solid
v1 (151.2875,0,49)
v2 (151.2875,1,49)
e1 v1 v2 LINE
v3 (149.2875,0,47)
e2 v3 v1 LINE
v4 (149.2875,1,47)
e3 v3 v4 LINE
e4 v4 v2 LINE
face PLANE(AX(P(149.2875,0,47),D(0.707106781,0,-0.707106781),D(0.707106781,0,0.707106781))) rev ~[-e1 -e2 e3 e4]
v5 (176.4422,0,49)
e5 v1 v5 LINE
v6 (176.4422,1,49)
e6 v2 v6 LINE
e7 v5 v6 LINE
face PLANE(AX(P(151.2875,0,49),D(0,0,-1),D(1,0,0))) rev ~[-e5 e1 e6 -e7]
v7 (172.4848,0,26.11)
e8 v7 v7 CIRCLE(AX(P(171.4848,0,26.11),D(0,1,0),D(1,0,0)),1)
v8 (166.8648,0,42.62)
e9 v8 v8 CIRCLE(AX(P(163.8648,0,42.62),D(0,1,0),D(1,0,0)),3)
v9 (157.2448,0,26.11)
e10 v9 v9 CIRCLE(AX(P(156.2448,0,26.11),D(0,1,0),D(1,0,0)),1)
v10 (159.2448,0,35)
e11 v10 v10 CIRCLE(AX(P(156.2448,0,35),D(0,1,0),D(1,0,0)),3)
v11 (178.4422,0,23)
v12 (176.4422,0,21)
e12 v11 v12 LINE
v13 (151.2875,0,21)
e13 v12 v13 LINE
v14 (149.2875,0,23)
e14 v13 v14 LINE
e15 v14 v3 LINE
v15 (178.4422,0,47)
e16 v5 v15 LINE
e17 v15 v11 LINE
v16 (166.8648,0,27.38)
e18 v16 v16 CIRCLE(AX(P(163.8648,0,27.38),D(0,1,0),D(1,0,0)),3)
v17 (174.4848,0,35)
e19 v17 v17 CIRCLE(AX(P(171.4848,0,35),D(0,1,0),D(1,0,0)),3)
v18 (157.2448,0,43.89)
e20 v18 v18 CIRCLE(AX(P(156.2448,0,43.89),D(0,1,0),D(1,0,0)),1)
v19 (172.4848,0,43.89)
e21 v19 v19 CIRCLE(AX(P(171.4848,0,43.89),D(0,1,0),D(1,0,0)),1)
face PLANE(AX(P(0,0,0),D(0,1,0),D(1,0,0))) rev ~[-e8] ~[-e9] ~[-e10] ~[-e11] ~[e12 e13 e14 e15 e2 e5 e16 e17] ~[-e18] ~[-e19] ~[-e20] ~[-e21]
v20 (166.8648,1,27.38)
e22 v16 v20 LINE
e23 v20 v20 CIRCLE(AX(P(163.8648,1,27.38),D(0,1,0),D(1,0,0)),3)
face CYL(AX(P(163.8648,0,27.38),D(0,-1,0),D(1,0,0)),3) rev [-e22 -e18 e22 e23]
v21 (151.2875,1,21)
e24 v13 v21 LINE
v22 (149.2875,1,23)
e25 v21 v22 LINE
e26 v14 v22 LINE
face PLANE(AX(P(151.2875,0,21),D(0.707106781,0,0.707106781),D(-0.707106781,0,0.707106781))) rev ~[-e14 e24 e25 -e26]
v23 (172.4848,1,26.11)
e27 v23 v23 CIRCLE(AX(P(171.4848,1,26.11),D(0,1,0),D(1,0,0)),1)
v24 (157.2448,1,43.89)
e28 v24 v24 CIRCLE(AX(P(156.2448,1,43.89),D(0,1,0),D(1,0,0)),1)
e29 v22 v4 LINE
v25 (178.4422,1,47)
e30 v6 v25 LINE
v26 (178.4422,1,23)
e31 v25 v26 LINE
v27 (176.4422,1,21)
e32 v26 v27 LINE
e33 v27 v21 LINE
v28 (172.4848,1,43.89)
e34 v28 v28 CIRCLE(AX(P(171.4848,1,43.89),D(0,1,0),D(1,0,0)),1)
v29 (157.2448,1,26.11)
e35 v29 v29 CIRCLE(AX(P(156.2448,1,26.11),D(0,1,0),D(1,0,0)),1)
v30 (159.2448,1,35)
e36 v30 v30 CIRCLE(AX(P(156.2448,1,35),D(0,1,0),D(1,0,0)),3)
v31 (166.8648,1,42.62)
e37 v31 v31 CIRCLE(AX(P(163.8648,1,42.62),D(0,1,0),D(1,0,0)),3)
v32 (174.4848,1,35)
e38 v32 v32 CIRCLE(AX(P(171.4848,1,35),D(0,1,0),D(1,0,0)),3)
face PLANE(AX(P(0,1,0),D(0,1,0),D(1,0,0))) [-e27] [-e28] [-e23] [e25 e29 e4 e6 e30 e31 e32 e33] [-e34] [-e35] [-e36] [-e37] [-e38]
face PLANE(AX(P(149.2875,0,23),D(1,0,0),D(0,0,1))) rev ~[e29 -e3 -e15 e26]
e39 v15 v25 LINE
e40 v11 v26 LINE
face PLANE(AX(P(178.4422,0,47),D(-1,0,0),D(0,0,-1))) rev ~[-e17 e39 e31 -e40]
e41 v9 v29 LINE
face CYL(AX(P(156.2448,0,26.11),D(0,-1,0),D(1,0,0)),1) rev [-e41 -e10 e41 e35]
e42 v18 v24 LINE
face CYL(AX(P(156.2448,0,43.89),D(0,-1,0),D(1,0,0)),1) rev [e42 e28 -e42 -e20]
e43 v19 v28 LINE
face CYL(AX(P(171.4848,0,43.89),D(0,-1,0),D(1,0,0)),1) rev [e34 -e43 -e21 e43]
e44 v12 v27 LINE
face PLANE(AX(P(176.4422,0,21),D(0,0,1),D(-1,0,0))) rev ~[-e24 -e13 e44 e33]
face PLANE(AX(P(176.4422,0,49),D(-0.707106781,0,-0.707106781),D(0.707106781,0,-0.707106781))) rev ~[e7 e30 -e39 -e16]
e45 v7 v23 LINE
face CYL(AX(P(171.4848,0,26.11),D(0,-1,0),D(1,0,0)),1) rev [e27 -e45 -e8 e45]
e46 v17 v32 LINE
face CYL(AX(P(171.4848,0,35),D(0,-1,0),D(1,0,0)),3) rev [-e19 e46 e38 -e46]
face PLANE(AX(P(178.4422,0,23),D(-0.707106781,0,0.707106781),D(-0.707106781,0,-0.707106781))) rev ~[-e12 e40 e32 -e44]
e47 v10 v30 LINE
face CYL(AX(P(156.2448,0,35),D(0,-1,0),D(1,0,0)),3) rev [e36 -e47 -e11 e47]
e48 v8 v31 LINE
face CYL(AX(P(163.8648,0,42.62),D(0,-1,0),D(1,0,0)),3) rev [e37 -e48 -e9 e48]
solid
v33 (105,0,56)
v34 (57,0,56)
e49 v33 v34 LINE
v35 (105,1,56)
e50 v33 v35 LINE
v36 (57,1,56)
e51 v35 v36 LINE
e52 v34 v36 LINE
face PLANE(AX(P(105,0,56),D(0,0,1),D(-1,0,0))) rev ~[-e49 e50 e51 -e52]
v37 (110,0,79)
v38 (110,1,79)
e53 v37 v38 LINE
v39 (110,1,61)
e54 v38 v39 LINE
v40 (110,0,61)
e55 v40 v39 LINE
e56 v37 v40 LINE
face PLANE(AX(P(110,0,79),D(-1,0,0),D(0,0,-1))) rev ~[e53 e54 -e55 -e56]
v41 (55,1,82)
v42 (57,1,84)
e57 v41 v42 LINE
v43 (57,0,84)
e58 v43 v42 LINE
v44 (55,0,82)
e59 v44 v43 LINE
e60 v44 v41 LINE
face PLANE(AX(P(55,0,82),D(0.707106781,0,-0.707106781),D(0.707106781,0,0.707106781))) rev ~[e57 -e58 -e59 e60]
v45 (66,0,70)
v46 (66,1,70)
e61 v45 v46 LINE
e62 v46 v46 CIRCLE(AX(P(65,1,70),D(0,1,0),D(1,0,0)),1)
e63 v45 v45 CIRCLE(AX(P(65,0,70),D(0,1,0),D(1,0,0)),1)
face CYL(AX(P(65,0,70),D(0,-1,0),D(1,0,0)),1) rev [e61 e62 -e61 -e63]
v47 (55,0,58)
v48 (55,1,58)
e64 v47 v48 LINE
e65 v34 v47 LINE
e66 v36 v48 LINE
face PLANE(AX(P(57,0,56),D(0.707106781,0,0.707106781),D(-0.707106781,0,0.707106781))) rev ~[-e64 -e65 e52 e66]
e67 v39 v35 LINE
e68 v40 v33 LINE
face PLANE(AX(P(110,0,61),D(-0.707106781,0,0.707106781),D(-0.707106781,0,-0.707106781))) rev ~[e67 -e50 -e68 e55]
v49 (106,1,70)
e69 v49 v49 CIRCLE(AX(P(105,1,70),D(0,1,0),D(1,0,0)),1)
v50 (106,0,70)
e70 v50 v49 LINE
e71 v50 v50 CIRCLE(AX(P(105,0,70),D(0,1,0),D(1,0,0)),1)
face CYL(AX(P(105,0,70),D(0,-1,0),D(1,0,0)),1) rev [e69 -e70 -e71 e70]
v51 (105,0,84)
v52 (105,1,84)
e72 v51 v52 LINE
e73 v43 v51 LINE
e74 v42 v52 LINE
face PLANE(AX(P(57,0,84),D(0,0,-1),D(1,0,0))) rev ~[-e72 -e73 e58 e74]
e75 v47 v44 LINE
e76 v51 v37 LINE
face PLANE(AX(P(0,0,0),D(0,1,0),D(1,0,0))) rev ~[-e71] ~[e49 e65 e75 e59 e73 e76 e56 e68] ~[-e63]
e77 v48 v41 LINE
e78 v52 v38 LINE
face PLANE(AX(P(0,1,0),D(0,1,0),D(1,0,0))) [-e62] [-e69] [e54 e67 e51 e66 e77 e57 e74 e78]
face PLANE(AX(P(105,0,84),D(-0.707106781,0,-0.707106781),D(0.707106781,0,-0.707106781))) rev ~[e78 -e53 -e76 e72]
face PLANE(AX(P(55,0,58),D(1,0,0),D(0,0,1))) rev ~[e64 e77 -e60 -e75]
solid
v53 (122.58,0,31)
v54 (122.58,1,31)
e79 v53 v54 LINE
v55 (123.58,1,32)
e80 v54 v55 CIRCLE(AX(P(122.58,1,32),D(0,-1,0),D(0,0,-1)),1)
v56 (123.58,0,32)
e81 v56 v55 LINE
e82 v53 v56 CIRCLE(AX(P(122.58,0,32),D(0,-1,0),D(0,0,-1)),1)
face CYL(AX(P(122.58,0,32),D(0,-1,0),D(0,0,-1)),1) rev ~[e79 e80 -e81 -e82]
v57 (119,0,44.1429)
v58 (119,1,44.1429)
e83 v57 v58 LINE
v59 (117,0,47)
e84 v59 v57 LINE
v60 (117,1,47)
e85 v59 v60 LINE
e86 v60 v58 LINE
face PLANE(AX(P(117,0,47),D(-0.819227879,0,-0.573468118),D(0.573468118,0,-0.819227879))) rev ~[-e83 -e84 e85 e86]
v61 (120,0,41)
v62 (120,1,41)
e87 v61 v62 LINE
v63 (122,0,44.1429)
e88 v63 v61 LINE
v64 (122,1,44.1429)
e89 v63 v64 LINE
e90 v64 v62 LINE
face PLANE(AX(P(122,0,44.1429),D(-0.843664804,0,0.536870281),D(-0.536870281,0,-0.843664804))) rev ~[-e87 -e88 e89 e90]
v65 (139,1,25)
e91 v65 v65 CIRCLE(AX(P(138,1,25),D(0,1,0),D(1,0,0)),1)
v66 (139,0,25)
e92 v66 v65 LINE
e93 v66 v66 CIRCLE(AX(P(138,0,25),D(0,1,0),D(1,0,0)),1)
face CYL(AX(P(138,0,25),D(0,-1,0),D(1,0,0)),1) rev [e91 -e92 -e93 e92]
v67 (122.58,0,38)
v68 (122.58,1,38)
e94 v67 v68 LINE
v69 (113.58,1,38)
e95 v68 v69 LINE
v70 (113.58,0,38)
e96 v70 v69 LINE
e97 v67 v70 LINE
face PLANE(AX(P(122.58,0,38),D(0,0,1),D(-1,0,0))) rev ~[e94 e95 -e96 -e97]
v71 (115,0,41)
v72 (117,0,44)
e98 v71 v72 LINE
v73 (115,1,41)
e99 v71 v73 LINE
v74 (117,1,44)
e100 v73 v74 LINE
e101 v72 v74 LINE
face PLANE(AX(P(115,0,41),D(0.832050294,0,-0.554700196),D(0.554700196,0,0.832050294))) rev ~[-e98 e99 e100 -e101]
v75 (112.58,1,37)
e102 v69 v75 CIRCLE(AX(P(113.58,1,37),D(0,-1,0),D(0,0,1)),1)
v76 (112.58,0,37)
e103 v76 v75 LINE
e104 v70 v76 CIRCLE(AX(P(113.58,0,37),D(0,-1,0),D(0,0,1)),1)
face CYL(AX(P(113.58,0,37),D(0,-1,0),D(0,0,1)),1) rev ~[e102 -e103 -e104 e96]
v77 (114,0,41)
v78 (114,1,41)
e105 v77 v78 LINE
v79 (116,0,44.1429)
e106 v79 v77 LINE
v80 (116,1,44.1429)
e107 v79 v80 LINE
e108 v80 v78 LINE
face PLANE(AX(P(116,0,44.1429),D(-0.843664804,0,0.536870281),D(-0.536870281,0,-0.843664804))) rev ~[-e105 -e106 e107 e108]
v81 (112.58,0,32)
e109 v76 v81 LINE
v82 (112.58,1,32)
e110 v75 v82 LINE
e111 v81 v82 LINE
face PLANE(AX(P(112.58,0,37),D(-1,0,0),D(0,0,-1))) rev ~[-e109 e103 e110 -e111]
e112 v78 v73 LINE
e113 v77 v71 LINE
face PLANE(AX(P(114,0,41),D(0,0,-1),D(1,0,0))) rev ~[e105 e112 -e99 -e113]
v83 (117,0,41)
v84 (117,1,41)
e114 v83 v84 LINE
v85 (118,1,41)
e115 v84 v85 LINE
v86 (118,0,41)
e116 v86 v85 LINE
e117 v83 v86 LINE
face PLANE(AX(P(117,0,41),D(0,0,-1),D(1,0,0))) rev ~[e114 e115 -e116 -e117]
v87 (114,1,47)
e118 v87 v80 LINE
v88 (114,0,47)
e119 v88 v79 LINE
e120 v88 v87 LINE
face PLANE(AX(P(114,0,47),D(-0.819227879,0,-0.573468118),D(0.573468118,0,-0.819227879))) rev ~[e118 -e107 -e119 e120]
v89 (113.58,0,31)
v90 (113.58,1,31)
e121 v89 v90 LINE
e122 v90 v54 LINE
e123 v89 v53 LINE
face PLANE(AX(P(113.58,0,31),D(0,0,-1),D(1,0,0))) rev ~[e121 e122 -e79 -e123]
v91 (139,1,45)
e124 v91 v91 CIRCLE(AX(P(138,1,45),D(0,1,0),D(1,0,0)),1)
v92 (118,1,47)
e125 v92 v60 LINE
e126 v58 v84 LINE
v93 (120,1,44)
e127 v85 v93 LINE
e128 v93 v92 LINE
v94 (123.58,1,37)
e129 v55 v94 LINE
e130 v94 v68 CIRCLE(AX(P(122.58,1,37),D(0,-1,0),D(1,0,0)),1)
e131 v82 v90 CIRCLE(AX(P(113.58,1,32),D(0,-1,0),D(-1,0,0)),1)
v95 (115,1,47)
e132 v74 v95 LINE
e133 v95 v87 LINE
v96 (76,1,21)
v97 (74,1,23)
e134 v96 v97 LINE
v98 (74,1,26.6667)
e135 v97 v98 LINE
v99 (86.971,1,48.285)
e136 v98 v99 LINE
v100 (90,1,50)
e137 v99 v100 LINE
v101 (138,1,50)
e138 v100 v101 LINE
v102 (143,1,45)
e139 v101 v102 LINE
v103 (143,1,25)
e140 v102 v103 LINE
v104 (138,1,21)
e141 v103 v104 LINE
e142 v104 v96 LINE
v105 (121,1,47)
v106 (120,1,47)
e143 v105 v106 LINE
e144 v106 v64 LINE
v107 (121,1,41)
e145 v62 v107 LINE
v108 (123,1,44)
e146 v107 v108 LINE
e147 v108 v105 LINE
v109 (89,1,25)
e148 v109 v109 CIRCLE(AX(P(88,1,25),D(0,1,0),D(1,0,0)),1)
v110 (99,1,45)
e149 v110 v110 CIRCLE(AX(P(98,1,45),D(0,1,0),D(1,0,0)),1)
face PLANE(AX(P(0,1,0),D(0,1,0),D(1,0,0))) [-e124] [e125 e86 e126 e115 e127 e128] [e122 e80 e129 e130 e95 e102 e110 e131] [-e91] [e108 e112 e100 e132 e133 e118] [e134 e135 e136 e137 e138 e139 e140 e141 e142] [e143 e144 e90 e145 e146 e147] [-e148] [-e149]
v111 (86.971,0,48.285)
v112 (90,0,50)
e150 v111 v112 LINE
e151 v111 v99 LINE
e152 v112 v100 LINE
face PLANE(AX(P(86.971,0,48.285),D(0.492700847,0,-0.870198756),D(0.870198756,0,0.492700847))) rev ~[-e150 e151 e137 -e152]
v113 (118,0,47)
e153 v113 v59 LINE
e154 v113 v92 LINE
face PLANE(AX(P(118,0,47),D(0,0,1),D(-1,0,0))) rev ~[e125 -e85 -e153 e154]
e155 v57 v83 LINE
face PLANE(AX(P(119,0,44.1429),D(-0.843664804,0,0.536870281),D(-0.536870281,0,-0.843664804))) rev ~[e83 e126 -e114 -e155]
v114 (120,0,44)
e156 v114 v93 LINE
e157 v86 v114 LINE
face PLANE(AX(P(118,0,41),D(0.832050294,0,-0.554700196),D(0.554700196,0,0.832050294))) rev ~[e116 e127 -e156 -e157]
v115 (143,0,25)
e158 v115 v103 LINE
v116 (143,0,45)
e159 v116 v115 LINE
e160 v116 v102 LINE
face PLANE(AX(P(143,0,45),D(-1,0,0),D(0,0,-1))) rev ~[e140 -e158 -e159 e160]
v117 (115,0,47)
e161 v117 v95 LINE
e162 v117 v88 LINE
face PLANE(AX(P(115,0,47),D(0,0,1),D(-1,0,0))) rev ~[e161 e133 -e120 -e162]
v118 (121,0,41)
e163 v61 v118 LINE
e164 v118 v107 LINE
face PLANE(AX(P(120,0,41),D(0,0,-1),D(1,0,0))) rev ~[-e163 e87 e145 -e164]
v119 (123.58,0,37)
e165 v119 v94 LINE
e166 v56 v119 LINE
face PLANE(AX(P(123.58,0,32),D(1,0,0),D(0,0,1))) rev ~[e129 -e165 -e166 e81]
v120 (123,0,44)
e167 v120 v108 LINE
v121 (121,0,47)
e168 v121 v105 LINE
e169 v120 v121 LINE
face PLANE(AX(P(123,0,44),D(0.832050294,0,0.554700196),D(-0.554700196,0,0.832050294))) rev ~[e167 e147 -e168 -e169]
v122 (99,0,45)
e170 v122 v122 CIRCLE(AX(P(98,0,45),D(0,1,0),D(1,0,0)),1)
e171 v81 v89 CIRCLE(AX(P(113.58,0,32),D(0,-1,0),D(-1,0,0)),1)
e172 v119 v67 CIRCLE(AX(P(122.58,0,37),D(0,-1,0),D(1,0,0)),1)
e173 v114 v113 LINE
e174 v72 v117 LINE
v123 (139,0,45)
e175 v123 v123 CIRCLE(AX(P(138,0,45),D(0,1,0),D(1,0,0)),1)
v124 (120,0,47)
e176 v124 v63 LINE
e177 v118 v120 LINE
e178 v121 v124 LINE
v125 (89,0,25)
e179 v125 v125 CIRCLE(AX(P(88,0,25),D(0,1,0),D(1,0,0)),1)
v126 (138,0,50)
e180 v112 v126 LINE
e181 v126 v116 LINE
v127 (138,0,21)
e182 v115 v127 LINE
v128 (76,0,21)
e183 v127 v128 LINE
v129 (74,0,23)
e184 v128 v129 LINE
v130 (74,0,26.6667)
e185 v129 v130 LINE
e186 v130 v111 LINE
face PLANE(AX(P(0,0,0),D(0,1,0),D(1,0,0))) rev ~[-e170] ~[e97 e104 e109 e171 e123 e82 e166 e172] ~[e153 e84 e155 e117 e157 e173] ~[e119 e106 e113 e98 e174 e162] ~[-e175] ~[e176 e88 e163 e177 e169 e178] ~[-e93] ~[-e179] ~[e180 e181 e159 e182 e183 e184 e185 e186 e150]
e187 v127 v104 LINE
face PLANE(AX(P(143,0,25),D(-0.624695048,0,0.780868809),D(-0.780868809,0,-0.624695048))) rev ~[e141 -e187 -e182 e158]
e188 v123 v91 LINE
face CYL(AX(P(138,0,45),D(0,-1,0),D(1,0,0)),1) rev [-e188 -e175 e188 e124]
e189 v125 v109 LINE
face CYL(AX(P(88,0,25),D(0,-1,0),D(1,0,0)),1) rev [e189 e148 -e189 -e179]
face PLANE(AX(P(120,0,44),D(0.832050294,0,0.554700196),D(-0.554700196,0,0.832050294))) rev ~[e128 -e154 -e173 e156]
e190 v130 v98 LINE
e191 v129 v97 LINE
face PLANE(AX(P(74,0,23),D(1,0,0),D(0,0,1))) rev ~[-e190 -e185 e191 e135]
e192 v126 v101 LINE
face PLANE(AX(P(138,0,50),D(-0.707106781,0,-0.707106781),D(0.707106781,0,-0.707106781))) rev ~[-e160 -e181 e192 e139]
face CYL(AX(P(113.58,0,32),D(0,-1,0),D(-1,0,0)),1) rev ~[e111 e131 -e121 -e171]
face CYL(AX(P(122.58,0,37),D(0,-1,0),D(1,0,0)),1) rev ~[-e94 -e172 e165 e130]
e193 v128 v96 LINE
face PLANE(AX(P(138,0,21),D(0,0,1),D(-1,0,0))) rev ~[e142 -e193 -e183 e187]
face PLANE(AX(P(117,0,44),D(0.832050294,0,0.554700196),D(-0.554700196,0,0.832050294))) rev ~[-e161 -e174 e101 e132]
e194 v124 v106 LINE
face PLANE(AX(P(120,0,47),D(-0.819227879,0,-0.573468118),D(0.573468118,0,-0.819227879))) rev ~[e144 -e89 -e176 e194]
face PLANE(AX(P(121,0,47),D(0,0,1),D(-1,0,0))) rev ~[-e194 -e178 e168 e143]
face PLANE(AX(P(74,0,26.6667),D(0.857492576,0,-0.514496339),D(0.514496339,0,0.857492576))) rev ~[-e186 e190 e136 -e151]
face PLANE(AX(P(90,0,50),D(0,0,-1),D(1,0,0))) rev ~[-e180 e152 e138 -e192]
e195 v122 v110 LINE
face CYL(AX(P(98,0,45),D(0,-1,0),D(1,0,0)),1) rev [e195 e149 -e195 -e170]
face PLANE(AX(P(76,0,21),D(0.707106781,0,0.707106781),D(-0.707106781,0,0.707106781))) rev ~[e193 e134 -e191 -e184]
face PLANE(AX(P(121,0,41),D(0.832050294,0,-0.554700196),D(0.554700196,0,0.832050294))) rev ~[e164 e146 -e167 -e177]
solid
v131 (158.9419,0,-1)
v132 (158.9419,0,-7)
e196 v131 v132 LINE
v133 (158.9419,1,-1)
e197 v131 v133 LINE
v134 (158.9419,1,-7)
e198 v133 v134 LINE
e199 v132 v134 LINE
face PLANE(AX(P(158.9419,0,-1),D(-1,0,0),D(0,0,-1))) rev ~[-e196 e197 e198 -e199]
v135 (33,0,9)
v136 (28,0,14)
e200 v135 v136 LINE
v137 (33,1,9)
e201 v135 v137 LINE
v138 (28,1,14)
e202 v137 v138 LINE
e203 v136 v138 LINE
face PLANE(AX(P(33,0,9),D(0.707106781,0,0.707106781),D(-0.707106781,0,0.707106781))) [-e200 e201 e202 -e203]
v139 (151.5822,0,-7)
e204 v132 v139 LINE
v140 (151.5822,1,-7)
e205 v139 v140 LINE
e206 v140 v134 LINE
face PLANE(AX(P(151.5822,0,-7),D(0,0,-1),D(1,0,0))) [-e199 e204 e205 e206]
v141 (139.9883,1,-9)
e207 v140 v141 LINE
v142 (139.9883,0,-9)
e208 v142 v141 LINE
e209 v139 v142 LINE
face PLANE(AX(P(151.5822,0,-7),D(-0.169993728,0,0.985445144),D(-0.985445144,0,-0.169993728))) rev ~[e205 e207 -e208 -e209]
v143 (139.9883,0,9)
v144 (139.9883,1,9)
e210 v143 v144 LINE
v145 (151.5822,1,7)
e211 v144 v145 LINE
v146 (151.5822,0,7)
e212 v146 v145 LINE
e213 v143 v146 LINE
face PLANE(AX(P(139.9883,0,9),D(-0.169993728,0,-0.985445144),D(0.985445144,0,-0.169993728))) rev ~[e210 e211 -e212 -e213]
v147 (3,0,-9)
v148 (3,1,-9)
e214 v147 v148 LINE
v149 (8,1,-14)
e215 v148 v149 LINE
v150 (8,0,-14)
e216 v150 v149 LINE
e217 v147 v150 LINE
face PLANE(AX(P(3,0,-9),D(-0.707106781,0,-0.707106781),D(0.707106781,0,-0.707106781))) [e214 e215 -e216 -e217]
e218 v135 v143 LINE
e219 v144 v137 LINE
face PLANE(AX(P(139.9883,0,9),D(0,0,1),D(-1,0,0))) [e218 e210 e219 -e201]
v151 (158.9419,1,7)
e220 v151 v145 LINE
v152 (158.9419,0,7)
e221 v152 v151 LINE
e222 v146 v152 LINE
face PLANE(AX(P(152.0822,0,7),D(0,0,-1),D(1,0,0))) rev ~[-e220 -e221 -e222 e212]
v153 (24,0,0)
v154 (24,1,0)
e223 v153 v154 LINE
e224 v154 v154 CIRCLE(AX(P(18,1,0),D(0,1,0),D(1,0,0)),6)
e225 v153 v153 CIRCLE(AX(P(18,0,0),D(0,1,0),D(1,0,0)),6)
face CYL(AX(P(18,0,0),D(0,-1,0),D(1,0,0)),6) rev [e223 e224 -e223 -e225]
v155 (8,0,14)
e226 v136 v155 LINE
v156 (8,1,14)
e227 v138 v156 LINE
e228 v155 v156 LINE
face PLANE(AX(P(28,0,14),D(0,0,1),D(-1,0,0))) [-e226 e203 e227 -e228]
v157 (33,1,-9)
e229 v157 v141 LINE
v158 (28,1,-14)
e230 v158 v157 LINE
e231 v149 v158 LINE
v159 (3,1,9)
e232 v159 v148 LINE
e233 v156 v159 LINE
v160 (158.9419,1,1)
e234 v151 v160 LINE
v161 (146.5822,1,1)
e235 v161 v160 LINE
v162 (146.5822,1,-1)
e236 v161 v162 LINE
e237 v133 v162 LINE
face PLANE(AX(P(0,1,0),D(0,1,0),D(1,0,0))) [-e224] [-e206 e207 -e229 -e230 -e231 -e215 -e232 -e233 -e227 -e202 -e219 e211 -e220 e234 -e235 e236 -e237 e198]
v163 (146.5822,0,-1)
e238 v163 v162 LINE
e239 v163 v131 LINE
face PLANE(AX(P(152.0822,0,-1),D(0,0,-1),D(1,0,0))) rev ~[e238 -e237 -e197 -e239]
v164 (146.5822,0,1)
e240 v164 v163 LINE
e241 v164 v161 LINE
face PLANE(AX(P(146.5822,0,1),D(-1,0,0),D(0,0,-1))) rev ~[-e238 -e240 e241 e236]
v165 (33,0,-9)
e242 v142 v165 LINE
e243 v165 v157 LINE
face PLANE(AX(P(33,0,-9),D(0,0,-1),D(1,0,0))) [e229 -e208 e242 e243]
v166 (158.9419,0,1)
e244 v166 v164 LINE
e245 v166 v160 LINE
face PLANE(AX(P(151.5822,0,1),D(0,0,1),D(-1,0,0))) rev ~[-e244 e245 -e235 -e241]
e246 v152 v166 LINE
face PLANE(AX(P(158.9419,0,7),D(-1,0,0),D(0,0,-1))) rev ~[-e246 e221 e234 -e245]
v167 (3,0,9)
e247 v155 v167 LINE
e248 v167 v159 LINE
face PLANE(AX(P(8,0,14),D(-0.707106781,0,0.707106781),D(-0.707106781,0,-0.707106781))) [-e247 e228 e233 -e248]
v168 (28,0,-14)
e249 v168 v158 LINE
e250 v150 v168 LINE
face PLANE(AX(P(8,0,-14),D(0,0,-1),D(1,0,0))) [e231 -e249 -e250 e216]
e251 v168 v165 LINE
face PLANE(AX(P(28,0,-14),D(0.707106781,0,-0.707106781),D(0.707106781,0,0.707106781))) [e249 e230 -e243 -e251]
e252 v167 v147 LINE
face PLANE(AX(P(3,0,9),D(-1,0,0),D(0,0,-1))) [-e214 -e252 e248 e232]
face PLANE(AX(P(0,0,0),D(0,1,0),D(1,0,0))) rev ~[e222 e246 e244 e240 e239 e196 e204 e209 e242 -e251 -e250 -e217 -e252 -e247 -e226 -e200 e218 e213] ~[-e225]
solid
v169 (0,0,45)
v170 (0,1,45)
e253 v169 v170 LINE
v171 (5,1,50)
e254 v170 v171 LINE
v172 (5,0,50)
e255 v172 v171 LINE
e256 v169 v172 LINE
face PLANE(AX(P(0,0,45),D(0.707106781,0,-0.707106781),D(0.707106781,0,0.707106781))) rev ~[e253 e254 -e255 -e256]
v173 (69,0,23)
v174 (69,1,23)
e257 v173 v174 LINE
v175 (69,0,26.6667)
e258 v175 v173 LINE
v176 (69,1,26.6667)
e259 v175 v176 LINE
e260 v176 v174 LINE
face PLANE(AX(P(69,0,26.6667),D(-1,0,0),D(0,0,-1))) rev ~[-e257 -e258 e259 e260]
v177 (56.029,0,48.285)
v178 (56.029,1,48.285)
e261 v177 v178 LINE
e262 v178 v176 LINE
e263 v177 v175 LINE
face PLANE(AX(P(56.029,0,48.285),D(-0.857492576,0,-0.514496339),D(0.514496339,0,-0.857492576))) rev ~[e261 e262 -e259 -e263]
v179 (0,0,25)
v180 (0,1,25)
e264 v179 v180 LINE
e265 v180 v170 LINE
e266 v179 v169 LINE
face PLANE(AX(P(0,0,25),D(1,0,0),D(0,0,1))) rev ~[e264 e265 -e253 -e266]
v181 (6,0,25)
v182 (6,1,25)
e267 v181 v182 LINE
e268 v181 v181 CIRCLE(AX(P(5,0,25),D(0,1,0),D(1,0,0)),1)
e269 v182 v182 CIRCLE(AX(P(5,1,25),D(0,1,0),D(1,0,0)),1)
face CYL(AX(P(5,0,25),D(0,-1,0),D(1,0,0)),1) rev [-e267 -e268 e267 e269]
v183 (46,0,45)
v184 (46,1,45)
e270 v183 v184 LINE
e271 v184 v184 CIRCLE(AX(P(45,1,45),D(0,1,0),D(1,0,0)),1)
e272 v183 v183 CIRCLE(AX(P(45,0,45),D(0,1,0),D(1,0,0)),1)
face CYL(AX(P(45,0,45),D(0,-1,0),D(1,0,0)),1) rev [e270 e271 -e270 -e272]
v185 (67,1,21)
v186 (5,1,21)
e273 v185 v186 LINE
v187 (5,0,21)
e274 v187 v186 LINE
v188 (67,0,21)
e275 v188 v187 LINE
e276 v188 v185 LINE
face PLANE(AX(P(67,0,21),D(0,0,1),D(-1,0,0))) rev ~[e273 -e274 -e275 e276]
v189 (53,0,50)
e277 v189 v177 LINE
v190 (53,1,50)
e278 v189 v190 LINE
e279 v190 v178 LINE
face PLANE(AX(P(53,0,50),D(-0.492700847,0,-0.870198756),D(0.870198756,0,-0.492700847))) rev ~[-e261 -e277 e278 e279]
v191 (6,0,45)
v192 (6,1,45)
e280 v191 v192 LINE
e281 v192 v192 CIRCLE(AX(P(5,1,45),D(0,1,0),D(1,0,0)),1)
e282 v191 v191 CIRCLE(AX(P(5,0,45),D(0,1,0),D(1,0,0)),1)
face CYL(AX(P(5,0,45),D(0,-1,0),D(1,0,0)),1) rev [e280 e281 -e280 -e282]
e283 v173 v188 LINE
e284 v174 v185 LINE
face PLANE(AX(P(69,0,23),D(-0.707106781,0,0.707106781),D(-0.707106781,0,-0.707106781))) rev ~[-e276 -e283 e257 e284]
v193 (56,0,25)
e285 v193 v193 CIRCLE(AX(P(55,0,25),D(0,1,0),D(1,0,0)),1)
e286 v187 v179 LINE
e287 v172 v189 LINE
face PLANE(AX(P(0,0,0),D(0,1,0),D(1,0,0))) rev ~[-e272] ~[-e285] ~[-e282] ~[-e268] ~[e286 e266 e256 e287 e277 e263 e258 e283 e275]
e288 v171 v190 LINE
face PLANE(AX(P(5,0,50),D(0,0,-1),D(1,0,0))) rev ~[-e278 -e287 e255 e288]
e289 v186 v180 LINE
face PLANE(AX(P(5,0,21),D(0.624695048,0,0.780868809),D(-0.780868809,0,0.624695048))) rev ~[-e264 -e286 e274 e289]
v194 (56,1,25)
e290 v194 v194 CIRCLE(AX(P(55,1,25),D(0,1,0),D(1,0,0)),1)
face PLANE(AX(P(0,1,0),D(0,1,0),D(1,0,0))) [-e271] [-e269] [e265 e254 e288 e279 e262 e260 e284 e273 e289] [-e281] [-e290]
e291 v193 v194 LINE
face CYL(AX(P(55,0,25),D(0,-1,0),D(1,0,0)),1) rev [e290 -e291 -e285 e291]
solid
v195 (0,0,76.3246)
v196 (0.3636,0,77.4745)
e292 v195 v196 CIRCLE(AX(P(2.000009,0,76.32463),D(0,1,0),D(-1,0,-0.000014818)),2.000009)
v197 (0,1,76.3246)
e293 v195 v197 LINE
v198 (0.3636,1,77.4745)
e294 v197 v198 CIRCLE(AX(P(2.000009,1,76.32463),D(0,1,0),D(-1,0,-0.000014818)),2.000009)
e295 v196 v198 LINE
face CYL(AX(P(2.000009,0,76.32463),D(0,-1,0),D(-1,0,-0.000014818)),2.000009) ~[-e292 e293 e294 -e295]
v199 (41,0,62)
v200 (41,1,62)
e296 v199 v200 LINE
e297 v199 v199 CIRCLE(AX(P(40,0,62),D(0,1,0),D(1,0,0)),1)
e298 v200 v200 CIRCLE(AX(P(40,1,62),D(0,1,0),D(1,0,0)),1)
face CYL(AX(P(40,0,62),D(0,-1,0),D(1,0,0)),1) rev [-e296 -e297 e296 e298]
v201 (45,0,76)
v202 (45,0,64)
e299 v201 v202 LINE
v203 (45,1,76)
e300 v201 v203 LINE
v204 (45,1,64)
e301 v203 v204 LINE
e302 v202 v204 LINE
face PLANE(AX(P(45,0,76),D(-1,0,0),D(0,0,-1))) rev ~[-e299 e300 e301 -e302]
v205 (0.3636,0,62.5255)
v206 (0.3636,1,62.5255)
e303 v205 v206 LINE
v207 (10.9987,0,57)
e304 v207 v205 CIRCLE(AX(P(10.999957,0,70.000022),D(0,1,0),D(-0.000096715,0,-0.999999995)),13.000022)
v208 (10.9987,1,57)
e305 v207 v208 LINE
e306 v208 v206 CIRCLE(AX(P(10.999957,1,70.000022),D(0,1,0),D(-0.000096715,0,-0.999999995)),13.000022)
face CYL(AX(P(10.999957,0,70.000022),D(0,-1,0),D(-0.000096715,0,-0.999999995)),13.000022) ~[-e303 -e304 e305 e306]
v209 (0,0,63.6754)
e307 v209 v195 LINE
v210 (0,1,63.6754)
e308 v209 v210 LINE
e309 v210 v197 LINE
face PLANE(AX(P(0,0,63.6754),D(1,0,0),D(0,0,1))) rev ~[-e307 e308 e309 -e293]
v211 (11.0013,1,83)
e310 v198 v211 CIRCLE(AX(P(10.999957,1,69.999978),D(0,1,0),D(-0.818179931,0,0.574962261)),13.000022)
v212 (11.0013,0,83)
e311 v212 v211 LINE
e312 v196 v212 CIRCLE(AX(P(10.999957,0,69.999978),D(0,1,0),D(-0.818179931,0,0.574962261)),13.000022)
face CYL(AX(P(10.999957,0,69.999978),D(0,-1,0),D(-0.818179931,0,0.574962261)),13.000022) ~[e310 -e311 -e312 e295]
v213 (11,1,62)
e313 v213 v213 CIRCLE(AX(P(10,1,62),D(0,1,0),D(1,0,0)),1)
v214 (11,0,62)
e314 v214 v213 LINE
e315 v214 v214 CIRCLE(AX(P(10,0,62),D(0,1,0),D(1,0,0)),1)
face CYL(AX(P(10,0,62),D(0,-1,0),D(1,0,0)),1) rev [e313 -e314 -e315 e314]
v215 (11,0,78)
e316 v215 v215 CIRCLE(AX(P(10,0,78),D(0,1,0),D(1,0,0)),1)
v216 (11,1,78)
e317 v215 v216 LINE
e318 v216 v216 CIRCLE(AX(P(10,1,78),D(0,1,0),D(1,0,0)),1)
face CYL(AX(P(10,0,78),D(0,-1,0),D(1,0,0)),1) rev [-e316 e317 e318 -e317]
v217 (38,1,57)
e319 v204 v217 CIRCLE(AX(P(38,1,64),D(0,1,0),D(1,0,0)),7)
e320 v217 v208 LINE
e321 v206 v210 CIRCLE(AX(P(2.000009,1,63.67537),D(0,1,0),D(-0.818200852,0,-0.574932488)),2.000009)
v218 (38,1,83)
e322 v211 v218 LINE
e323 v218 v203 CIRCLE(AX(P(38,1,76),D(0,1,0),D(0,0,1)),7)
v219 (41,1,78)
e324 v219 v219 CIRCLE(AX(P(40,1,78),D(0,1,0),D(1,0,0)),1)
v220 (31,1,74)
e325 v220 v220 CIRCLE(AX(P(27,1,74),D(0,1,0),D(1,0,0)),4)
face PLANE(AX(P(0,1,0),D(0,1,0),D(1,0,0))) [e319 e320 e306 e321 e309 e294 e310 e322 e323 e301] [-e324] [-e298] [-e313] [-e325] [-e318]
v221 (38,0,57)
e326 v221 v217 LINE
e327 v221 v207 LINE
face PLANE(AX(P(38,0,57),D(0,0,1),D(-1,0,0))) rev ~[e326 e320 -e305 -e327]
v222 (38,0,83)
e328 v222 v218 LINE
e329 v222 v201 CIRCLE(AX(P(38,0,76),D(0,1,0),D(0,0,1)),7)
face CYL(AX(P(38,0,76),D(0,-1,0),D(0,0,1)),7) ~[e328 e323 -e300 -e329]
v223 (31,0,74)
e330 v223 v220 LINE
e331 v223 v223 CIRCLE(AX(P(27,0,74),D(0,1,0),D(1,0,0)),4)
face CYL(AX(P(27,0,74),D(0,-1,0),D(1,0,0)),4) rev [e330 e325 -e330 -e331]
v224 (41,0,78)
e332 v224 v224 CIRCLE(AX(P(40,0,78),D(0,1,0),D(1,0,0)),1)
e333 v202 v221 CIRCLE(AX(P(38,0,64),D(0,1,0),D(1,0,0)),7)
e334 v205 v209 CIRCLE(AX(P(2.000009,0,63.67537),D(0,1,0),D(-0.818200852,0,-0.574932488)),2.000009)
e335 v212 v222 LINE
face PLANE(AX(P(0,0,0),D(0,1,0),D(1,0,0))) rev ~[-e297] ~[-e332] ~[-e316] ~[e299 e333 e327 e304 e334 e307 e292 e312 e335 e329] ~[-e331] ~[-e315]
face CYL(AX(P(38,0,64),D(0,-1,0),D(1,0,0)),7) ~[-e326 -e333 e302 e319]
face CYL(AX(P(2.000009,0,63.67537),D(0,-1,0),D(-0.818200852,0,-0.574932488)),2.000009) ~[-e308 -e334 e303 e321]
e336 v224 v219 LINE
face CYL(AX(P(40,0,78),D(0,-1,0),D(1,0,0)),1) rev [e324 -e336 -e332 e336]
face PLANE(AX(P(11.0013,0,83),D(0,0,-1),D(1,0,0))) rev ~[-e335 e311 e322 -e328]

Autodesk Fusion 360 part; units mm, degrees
sketch "スケッチ1" plane through (0, 0, 0) normal (0, 1, 0) x (1, 0, 0)
  circle A0 centre (18, 0) radius 6
  line L0 (8, -14) -> (3, -9)
  line L1 (49, -9) -> (33, -9)
  line L2 (28, -14) -> (8, -14)
  line L3 (33, 9) -> (49, 9)
  line L4 (33, -9) -> (28, -14)
  line L5 (3, 9) -> (8, 14)
  line L6 (49, 9) -> (49, -9) construction
  line L7 (8, 14) -> (28, 14)
  line L8 (3, -9) -> (3, 9)
  line L9 (28, 14) -> (33, 9)
  line L10 (139.6583, -9) -> (89.3799, -9)
  line L11 (89.3799, 9) -> (139.6583, 9)
  line L12 (88.5949, 9) -> (68.625, 9)
  line L13 (88.5949, -9) -> (88.5949, 9) construction
  line L14 (68.625, 9) -> (68.625, -9) construction
  line L15 (68.625, -9) -> (88.5949, -9)
  line L16 (146.5822, 1) -> (151.5822, 1)
  line L17 (146.5822, -1) -> (146.5822, 1)
  line L18 (151.5822, -7) -> (151.5822, -1) construction
  line L19 (151.5822, 1) -> (151.5822, 7) construction
  line L20 (151.5822, 7) -> (139.9883, 9)
  line L21 (139.9883, 9) -> (139.9883, -9) construction
  line L22 (151.5822, -1) -> (146.5822, -1)
  line L23 (139.9883, -9) -> (151.5822, -7)
  line L24 (152.0822, 7) -> (152.0822, 1) construction
  line L25 (158.9419, 7) -> (152.0822, 7)
  line L26 (158.9419, 1) -> (158.9419, 7)
  line L27 (152.0822, 1) -> (158.9419, 1)
  line L28 (152.0822, -1) -> (152.0822, -7) construction
  line L29 (152.0822, -7) -> (158.9419, -7)
  line L30 (158.9419, -1) -> (152.0822, -1)
  line L31 (158.9419, -7) -> (158.9419, -1)
  circle A1 centre (5, -25) radius 1
  circle A2 centre (55, -25) radius 1
  circle A3 centre (5, -45) radius 1
  circle A4 centre (45, -45) radius 1
  line L32 (53, -50) -> (56.029, -48.285)
  line L33 (56.029, -48.285) -> (69, -26.6667)
  line L34 (69, -23) -> (67, -21)
  line L35 (0, -45) -> (5, -50)
  line L36 (5, -50) -> (53, -50)
  line L37 (67, -21) -> (5, -21)
  line L38 (5, -21) -> (0, -25)
  line L39 (69, -26.6667) -> (69, -23)
  line L40 (0, -25) -> (0, -45)
  circle A5 centre (138, -25) radius 1
  circle A6 centre (88, -25) radius 1
  circle A7 centre (138, -45) radius 1
  circle A8 centre (98, -45) radius 1
  line L41 (74, -26.6667) -> (86.971, -48.285)
  line L42 (143, -25) -> (138, -21)
  line L43 (138, -21) -> (76, -21)
  line L44 (138, -50) -> (143, -45)
  line L45 (86.971, -48.285) -> (90, -50)
  line L46 (143, -45) -> (143, -25)
  line L47 (76, -21) -> (74, -23)
  line L48 (74, -23) -> (74, -26.6667)
  line L49 (90, -50) -> (138, -50)
  line L50 (113.58, -31) -> (122.58, -31)
  line L51 (122.58, -38) -> (113.58, -38)
  arc A9 (112.58, -32) -> (113.58, -31) centre (113.58, -32) cw
  line L52 (112.58, -37) -> (112.58, -32)
  arc A10 (123.58, -37) -> (122.58, -38) centre (122.58, -37) cw
  arc A11 (122.58, -31) -> (123.58, -32) centre (122.58, -32) cw
  arc A12 (113.58, -38) -> (112.58, -37) centre (113.58, -37) cw
  line L53 (123.58, -32) -> (123.58, -37)
  line L54 (114, -41) -> (115, -41)
  line L55 (115, -47) -> (114, -47)
  line L56 (114, -47) -> (116, -44.1429)
  line L57 (116, -44.1429) -> (114, -41)
  line L58 (117, -44) -> (115, -47)
  line L59 (115, -41) -> (117, -44)
  line L60 (118, -41) -> (120, -44)
  line L61 (119, -44.1429) -> (117, -41)
  line L62 (117, -47) -> (119, -44.1429)
  line L63 (120, -44) -> (118, -47)
  line L64 (117, -41) -> (118, -41)
  line L65 (118, -47) -> (117, -47)
  line L66 (122, -44.1429) -> (120, -41)
  line L67 (121, -47) -> (120, -47)
  line L68 (123, -44) -> (121, -47)
  line L69 (121, -41) -> (123, -44)
  line L70 (120, -47) -> (122, -44.1429)
  line L71 (120, -41) -> (121, -41)
  circle A13 centre (156.2448, -43.89) radius 1
  circle A14 centre (171.4848, -26.11) radius 1
  circle A15 centre (171.4848, -43.89) radius 1
  circle A16 centre (156.2448, -26.11) radius 1
  circle A17 centre (163.8648, -27.38) radius 3
  circle A18 centre (156.2448, -35) radius 3
  circle A19 centre (163.8648, -42.62) radius 3
  circle A20 centre (171.4848, -35) radius 3
  line L72 (176.4422, -21) -> (151.2875, -21)
  line L73 (149.2875, -47) -> (151.2875, -49)
  line L74 (176.4422, -49) -> (178.4422, -47)
  line L75 (151.2875, -21) -> (149.2875, -23)
  line L76 (149.2875, -23) -> (149.2875, -47)
  line L77 (151.2875, -49) -> (176.4422, -49)
  line L78 (178.4422, -23) -> (176.4422, -21)
  line L79 (178.4422, -47) -> (178.4422, -23)
  circle A21 centre (10, -78) radius 1
  circle A22 centre (40, -62) radius 1
  circle A23 centre (10, -62) radius 1
  circle A24 centre (40, -78) radius 1
  circle A25 centre (27, -74) radius 4
  arc A26 (38, -83) -> (45, -76) centre (38, -76) ccw
  arc A27 (0, -76.3246) -> (0.3636, -77.4745) centre (2, -76.3246) ccw
  arc A28 (45, -64) -> (38, -57) centre (38, -64) ccw
  line L80 (45, -76) -> (45, -64)
  arc A29 (10.9987, -57) -> (0.3636, -62.5255) centre (11, -70) ccw
  arc A30 (0.3636, -77.4745) -> (11.0013, -83) centre (11, -70) ccw
  arc A31 (0.3636, -62.5255) -> (0, -63.6754) centre (2, -63.6754) ccw
  line L81 (0, -63.6754) -> (0, -76.3246)
  line L82 (38, -57) -> (10.9987, -57)
  line L83 (11.0013, -83) -> (38, -83)
  circle A32 centre (65, -70) radius 1
  circle A33 centre (105, -70) radius 1
  line L84 (55, -58) -> (55, -82)
  line L85 (55, -82) -> (57, -84)
  line L86 (57, -84) -> (105, -84)
  line L87 (105, -56) -> (57, -56)
  line L88 (110, -61) -> (105, -56)
  line L89 (110, -79) -> (110, -61)
  line L90 (57, -56) -> (55, -58)
  line L91 (105, -84) -> (110, -79)
  line L92 (49, 9) -> (68.625, 9)
  line L93 (49, -9) -> (68.625, -9)
  line L94 (68.625, 9) -> (68.625, -9) construction
  line L95 (88.5949, 9) -> (89.3799, 9)
  line L96 (89.3799, 9) -> (89.3799, -9) construction
  line L97 (89.3799, -9) -> (88.5949, -9)
  line L98 (88.5949, -9) -> (88.5949, 9) construction
  line L99 (139.6583, 9) -> (139.9883, 9)
  line L100 (139.9883, 9) -> (139.9883, -9) construction
  line L101 (139.9883, -9) -> (139.6583, -9)
  line L102 (139.6583, -9) -> (139.6583, 9) construction
  line L103 (151.5822, 7) -> (152.0822, 7)
  line L104 (152.0822, 7) -> (152.0822, 1) construction
  line L105 (152.0822, 1) -> (151.5822, 1)
  line L106 (151.5822, -1) -> (152.0822, -1)
  line L107 (152.0822, -1) -> (152.0822, -7) construction
  line L108 (152.0822, -7) -> (151.5822, -7)
  dimension "d1" = 19.625
  dimension "d2" = 19.9699
  dimension "d3" = 46
  dimension "d4" = 0.785
  dimension "d5" = 50.2784
  dimension "d6" = 0.33
  dimension "d7" = 0.5
  dimension "d8" = 11.5938
  dimension "d9" = 6.8597
extrude "押し出し1" add sketch "スケッチ1" along normal blind 1 contours A26 A27 A28 L80 A29 A30 A31 L81 L82 L83 makes body 1
extrude "押し出し2" add sketch "スケッチ1" along normal blind 1 separate body contours L0 L1 L2 L3 L4 L5 L7 L8 L9 L10 L11 L12 L15 L16 L17 L20 L22 L23 L25 L26 L27 L29 L30 L31 L92 L93 L95 L97 L99 L101 L103 L105 L106 L108 | L32 L33 L34 L35 L36 L37 L38 L39 L40 | L41 L42 L43 L44 L45 L46 L47 L48 L49 | L72 L73 L74 L75 L76 L77 L78 L79 | L84 L85 L86 L87 L88 L89 L90 L91 makes body 2 at (99.8519, 0, 33.8122) makes body 3 at (75.8745, 0, 60.4061) makes body 4 at (177.1231, 0, 35) makes body 5 at (34.7922, 0, 31.4061) makes body 6 at (104.3256, 0, 3)
copy_body "ボディ -> コンポーネント1" bodies 1 removing the originals makes body 7 in component "Component"
copy_body "ボディ -> コンポーネント2" bodies 2 removing the originals makes body 8 in component "Component'"
copy_body "ボディ -> コンポーネント3" bodies 3 removing the originals makes body 9 in component "Component''"
copy_body "ボディ -> コンポーネント4" bodies 4 removing the originals makes body 10 in component "Component'''"
copy_body "ボディ -> コンポーネント5" bodies 5 removing the originals makes body 11 in component "Component''''"
copy_body "ボディ -> コンポーネント6" bodies 6 removing the originals makes body 12 in component "Component'''''"
component "Component" placed x (1, 0, 0) y (0, 1, 0) z (0, 0, 1) at (0, 0, 0)
component "Component'" placed x (1, 0, 0) y (0, 1, 0) z (0, 0, 1) at (0, 0, 0)
component "Component''" placed x (1, 0, 0) y (0, 1, 0) z (0, 0, 1) at (0, 0, 0)
component "Component'''" placed x (1, 0, 0) y (0, 1, 0) z (0, 0, 1) at (0, 0, 0)
component "Component''''" placed x (1, 0, 0) y (0, 1, 0) z (0, 0, 1) at (0, 0, 0)
component "Component'''''" placed x (1, 0, 0) y (0, 1, 0) z (0, 0, 1) at (0, 0, 0)
